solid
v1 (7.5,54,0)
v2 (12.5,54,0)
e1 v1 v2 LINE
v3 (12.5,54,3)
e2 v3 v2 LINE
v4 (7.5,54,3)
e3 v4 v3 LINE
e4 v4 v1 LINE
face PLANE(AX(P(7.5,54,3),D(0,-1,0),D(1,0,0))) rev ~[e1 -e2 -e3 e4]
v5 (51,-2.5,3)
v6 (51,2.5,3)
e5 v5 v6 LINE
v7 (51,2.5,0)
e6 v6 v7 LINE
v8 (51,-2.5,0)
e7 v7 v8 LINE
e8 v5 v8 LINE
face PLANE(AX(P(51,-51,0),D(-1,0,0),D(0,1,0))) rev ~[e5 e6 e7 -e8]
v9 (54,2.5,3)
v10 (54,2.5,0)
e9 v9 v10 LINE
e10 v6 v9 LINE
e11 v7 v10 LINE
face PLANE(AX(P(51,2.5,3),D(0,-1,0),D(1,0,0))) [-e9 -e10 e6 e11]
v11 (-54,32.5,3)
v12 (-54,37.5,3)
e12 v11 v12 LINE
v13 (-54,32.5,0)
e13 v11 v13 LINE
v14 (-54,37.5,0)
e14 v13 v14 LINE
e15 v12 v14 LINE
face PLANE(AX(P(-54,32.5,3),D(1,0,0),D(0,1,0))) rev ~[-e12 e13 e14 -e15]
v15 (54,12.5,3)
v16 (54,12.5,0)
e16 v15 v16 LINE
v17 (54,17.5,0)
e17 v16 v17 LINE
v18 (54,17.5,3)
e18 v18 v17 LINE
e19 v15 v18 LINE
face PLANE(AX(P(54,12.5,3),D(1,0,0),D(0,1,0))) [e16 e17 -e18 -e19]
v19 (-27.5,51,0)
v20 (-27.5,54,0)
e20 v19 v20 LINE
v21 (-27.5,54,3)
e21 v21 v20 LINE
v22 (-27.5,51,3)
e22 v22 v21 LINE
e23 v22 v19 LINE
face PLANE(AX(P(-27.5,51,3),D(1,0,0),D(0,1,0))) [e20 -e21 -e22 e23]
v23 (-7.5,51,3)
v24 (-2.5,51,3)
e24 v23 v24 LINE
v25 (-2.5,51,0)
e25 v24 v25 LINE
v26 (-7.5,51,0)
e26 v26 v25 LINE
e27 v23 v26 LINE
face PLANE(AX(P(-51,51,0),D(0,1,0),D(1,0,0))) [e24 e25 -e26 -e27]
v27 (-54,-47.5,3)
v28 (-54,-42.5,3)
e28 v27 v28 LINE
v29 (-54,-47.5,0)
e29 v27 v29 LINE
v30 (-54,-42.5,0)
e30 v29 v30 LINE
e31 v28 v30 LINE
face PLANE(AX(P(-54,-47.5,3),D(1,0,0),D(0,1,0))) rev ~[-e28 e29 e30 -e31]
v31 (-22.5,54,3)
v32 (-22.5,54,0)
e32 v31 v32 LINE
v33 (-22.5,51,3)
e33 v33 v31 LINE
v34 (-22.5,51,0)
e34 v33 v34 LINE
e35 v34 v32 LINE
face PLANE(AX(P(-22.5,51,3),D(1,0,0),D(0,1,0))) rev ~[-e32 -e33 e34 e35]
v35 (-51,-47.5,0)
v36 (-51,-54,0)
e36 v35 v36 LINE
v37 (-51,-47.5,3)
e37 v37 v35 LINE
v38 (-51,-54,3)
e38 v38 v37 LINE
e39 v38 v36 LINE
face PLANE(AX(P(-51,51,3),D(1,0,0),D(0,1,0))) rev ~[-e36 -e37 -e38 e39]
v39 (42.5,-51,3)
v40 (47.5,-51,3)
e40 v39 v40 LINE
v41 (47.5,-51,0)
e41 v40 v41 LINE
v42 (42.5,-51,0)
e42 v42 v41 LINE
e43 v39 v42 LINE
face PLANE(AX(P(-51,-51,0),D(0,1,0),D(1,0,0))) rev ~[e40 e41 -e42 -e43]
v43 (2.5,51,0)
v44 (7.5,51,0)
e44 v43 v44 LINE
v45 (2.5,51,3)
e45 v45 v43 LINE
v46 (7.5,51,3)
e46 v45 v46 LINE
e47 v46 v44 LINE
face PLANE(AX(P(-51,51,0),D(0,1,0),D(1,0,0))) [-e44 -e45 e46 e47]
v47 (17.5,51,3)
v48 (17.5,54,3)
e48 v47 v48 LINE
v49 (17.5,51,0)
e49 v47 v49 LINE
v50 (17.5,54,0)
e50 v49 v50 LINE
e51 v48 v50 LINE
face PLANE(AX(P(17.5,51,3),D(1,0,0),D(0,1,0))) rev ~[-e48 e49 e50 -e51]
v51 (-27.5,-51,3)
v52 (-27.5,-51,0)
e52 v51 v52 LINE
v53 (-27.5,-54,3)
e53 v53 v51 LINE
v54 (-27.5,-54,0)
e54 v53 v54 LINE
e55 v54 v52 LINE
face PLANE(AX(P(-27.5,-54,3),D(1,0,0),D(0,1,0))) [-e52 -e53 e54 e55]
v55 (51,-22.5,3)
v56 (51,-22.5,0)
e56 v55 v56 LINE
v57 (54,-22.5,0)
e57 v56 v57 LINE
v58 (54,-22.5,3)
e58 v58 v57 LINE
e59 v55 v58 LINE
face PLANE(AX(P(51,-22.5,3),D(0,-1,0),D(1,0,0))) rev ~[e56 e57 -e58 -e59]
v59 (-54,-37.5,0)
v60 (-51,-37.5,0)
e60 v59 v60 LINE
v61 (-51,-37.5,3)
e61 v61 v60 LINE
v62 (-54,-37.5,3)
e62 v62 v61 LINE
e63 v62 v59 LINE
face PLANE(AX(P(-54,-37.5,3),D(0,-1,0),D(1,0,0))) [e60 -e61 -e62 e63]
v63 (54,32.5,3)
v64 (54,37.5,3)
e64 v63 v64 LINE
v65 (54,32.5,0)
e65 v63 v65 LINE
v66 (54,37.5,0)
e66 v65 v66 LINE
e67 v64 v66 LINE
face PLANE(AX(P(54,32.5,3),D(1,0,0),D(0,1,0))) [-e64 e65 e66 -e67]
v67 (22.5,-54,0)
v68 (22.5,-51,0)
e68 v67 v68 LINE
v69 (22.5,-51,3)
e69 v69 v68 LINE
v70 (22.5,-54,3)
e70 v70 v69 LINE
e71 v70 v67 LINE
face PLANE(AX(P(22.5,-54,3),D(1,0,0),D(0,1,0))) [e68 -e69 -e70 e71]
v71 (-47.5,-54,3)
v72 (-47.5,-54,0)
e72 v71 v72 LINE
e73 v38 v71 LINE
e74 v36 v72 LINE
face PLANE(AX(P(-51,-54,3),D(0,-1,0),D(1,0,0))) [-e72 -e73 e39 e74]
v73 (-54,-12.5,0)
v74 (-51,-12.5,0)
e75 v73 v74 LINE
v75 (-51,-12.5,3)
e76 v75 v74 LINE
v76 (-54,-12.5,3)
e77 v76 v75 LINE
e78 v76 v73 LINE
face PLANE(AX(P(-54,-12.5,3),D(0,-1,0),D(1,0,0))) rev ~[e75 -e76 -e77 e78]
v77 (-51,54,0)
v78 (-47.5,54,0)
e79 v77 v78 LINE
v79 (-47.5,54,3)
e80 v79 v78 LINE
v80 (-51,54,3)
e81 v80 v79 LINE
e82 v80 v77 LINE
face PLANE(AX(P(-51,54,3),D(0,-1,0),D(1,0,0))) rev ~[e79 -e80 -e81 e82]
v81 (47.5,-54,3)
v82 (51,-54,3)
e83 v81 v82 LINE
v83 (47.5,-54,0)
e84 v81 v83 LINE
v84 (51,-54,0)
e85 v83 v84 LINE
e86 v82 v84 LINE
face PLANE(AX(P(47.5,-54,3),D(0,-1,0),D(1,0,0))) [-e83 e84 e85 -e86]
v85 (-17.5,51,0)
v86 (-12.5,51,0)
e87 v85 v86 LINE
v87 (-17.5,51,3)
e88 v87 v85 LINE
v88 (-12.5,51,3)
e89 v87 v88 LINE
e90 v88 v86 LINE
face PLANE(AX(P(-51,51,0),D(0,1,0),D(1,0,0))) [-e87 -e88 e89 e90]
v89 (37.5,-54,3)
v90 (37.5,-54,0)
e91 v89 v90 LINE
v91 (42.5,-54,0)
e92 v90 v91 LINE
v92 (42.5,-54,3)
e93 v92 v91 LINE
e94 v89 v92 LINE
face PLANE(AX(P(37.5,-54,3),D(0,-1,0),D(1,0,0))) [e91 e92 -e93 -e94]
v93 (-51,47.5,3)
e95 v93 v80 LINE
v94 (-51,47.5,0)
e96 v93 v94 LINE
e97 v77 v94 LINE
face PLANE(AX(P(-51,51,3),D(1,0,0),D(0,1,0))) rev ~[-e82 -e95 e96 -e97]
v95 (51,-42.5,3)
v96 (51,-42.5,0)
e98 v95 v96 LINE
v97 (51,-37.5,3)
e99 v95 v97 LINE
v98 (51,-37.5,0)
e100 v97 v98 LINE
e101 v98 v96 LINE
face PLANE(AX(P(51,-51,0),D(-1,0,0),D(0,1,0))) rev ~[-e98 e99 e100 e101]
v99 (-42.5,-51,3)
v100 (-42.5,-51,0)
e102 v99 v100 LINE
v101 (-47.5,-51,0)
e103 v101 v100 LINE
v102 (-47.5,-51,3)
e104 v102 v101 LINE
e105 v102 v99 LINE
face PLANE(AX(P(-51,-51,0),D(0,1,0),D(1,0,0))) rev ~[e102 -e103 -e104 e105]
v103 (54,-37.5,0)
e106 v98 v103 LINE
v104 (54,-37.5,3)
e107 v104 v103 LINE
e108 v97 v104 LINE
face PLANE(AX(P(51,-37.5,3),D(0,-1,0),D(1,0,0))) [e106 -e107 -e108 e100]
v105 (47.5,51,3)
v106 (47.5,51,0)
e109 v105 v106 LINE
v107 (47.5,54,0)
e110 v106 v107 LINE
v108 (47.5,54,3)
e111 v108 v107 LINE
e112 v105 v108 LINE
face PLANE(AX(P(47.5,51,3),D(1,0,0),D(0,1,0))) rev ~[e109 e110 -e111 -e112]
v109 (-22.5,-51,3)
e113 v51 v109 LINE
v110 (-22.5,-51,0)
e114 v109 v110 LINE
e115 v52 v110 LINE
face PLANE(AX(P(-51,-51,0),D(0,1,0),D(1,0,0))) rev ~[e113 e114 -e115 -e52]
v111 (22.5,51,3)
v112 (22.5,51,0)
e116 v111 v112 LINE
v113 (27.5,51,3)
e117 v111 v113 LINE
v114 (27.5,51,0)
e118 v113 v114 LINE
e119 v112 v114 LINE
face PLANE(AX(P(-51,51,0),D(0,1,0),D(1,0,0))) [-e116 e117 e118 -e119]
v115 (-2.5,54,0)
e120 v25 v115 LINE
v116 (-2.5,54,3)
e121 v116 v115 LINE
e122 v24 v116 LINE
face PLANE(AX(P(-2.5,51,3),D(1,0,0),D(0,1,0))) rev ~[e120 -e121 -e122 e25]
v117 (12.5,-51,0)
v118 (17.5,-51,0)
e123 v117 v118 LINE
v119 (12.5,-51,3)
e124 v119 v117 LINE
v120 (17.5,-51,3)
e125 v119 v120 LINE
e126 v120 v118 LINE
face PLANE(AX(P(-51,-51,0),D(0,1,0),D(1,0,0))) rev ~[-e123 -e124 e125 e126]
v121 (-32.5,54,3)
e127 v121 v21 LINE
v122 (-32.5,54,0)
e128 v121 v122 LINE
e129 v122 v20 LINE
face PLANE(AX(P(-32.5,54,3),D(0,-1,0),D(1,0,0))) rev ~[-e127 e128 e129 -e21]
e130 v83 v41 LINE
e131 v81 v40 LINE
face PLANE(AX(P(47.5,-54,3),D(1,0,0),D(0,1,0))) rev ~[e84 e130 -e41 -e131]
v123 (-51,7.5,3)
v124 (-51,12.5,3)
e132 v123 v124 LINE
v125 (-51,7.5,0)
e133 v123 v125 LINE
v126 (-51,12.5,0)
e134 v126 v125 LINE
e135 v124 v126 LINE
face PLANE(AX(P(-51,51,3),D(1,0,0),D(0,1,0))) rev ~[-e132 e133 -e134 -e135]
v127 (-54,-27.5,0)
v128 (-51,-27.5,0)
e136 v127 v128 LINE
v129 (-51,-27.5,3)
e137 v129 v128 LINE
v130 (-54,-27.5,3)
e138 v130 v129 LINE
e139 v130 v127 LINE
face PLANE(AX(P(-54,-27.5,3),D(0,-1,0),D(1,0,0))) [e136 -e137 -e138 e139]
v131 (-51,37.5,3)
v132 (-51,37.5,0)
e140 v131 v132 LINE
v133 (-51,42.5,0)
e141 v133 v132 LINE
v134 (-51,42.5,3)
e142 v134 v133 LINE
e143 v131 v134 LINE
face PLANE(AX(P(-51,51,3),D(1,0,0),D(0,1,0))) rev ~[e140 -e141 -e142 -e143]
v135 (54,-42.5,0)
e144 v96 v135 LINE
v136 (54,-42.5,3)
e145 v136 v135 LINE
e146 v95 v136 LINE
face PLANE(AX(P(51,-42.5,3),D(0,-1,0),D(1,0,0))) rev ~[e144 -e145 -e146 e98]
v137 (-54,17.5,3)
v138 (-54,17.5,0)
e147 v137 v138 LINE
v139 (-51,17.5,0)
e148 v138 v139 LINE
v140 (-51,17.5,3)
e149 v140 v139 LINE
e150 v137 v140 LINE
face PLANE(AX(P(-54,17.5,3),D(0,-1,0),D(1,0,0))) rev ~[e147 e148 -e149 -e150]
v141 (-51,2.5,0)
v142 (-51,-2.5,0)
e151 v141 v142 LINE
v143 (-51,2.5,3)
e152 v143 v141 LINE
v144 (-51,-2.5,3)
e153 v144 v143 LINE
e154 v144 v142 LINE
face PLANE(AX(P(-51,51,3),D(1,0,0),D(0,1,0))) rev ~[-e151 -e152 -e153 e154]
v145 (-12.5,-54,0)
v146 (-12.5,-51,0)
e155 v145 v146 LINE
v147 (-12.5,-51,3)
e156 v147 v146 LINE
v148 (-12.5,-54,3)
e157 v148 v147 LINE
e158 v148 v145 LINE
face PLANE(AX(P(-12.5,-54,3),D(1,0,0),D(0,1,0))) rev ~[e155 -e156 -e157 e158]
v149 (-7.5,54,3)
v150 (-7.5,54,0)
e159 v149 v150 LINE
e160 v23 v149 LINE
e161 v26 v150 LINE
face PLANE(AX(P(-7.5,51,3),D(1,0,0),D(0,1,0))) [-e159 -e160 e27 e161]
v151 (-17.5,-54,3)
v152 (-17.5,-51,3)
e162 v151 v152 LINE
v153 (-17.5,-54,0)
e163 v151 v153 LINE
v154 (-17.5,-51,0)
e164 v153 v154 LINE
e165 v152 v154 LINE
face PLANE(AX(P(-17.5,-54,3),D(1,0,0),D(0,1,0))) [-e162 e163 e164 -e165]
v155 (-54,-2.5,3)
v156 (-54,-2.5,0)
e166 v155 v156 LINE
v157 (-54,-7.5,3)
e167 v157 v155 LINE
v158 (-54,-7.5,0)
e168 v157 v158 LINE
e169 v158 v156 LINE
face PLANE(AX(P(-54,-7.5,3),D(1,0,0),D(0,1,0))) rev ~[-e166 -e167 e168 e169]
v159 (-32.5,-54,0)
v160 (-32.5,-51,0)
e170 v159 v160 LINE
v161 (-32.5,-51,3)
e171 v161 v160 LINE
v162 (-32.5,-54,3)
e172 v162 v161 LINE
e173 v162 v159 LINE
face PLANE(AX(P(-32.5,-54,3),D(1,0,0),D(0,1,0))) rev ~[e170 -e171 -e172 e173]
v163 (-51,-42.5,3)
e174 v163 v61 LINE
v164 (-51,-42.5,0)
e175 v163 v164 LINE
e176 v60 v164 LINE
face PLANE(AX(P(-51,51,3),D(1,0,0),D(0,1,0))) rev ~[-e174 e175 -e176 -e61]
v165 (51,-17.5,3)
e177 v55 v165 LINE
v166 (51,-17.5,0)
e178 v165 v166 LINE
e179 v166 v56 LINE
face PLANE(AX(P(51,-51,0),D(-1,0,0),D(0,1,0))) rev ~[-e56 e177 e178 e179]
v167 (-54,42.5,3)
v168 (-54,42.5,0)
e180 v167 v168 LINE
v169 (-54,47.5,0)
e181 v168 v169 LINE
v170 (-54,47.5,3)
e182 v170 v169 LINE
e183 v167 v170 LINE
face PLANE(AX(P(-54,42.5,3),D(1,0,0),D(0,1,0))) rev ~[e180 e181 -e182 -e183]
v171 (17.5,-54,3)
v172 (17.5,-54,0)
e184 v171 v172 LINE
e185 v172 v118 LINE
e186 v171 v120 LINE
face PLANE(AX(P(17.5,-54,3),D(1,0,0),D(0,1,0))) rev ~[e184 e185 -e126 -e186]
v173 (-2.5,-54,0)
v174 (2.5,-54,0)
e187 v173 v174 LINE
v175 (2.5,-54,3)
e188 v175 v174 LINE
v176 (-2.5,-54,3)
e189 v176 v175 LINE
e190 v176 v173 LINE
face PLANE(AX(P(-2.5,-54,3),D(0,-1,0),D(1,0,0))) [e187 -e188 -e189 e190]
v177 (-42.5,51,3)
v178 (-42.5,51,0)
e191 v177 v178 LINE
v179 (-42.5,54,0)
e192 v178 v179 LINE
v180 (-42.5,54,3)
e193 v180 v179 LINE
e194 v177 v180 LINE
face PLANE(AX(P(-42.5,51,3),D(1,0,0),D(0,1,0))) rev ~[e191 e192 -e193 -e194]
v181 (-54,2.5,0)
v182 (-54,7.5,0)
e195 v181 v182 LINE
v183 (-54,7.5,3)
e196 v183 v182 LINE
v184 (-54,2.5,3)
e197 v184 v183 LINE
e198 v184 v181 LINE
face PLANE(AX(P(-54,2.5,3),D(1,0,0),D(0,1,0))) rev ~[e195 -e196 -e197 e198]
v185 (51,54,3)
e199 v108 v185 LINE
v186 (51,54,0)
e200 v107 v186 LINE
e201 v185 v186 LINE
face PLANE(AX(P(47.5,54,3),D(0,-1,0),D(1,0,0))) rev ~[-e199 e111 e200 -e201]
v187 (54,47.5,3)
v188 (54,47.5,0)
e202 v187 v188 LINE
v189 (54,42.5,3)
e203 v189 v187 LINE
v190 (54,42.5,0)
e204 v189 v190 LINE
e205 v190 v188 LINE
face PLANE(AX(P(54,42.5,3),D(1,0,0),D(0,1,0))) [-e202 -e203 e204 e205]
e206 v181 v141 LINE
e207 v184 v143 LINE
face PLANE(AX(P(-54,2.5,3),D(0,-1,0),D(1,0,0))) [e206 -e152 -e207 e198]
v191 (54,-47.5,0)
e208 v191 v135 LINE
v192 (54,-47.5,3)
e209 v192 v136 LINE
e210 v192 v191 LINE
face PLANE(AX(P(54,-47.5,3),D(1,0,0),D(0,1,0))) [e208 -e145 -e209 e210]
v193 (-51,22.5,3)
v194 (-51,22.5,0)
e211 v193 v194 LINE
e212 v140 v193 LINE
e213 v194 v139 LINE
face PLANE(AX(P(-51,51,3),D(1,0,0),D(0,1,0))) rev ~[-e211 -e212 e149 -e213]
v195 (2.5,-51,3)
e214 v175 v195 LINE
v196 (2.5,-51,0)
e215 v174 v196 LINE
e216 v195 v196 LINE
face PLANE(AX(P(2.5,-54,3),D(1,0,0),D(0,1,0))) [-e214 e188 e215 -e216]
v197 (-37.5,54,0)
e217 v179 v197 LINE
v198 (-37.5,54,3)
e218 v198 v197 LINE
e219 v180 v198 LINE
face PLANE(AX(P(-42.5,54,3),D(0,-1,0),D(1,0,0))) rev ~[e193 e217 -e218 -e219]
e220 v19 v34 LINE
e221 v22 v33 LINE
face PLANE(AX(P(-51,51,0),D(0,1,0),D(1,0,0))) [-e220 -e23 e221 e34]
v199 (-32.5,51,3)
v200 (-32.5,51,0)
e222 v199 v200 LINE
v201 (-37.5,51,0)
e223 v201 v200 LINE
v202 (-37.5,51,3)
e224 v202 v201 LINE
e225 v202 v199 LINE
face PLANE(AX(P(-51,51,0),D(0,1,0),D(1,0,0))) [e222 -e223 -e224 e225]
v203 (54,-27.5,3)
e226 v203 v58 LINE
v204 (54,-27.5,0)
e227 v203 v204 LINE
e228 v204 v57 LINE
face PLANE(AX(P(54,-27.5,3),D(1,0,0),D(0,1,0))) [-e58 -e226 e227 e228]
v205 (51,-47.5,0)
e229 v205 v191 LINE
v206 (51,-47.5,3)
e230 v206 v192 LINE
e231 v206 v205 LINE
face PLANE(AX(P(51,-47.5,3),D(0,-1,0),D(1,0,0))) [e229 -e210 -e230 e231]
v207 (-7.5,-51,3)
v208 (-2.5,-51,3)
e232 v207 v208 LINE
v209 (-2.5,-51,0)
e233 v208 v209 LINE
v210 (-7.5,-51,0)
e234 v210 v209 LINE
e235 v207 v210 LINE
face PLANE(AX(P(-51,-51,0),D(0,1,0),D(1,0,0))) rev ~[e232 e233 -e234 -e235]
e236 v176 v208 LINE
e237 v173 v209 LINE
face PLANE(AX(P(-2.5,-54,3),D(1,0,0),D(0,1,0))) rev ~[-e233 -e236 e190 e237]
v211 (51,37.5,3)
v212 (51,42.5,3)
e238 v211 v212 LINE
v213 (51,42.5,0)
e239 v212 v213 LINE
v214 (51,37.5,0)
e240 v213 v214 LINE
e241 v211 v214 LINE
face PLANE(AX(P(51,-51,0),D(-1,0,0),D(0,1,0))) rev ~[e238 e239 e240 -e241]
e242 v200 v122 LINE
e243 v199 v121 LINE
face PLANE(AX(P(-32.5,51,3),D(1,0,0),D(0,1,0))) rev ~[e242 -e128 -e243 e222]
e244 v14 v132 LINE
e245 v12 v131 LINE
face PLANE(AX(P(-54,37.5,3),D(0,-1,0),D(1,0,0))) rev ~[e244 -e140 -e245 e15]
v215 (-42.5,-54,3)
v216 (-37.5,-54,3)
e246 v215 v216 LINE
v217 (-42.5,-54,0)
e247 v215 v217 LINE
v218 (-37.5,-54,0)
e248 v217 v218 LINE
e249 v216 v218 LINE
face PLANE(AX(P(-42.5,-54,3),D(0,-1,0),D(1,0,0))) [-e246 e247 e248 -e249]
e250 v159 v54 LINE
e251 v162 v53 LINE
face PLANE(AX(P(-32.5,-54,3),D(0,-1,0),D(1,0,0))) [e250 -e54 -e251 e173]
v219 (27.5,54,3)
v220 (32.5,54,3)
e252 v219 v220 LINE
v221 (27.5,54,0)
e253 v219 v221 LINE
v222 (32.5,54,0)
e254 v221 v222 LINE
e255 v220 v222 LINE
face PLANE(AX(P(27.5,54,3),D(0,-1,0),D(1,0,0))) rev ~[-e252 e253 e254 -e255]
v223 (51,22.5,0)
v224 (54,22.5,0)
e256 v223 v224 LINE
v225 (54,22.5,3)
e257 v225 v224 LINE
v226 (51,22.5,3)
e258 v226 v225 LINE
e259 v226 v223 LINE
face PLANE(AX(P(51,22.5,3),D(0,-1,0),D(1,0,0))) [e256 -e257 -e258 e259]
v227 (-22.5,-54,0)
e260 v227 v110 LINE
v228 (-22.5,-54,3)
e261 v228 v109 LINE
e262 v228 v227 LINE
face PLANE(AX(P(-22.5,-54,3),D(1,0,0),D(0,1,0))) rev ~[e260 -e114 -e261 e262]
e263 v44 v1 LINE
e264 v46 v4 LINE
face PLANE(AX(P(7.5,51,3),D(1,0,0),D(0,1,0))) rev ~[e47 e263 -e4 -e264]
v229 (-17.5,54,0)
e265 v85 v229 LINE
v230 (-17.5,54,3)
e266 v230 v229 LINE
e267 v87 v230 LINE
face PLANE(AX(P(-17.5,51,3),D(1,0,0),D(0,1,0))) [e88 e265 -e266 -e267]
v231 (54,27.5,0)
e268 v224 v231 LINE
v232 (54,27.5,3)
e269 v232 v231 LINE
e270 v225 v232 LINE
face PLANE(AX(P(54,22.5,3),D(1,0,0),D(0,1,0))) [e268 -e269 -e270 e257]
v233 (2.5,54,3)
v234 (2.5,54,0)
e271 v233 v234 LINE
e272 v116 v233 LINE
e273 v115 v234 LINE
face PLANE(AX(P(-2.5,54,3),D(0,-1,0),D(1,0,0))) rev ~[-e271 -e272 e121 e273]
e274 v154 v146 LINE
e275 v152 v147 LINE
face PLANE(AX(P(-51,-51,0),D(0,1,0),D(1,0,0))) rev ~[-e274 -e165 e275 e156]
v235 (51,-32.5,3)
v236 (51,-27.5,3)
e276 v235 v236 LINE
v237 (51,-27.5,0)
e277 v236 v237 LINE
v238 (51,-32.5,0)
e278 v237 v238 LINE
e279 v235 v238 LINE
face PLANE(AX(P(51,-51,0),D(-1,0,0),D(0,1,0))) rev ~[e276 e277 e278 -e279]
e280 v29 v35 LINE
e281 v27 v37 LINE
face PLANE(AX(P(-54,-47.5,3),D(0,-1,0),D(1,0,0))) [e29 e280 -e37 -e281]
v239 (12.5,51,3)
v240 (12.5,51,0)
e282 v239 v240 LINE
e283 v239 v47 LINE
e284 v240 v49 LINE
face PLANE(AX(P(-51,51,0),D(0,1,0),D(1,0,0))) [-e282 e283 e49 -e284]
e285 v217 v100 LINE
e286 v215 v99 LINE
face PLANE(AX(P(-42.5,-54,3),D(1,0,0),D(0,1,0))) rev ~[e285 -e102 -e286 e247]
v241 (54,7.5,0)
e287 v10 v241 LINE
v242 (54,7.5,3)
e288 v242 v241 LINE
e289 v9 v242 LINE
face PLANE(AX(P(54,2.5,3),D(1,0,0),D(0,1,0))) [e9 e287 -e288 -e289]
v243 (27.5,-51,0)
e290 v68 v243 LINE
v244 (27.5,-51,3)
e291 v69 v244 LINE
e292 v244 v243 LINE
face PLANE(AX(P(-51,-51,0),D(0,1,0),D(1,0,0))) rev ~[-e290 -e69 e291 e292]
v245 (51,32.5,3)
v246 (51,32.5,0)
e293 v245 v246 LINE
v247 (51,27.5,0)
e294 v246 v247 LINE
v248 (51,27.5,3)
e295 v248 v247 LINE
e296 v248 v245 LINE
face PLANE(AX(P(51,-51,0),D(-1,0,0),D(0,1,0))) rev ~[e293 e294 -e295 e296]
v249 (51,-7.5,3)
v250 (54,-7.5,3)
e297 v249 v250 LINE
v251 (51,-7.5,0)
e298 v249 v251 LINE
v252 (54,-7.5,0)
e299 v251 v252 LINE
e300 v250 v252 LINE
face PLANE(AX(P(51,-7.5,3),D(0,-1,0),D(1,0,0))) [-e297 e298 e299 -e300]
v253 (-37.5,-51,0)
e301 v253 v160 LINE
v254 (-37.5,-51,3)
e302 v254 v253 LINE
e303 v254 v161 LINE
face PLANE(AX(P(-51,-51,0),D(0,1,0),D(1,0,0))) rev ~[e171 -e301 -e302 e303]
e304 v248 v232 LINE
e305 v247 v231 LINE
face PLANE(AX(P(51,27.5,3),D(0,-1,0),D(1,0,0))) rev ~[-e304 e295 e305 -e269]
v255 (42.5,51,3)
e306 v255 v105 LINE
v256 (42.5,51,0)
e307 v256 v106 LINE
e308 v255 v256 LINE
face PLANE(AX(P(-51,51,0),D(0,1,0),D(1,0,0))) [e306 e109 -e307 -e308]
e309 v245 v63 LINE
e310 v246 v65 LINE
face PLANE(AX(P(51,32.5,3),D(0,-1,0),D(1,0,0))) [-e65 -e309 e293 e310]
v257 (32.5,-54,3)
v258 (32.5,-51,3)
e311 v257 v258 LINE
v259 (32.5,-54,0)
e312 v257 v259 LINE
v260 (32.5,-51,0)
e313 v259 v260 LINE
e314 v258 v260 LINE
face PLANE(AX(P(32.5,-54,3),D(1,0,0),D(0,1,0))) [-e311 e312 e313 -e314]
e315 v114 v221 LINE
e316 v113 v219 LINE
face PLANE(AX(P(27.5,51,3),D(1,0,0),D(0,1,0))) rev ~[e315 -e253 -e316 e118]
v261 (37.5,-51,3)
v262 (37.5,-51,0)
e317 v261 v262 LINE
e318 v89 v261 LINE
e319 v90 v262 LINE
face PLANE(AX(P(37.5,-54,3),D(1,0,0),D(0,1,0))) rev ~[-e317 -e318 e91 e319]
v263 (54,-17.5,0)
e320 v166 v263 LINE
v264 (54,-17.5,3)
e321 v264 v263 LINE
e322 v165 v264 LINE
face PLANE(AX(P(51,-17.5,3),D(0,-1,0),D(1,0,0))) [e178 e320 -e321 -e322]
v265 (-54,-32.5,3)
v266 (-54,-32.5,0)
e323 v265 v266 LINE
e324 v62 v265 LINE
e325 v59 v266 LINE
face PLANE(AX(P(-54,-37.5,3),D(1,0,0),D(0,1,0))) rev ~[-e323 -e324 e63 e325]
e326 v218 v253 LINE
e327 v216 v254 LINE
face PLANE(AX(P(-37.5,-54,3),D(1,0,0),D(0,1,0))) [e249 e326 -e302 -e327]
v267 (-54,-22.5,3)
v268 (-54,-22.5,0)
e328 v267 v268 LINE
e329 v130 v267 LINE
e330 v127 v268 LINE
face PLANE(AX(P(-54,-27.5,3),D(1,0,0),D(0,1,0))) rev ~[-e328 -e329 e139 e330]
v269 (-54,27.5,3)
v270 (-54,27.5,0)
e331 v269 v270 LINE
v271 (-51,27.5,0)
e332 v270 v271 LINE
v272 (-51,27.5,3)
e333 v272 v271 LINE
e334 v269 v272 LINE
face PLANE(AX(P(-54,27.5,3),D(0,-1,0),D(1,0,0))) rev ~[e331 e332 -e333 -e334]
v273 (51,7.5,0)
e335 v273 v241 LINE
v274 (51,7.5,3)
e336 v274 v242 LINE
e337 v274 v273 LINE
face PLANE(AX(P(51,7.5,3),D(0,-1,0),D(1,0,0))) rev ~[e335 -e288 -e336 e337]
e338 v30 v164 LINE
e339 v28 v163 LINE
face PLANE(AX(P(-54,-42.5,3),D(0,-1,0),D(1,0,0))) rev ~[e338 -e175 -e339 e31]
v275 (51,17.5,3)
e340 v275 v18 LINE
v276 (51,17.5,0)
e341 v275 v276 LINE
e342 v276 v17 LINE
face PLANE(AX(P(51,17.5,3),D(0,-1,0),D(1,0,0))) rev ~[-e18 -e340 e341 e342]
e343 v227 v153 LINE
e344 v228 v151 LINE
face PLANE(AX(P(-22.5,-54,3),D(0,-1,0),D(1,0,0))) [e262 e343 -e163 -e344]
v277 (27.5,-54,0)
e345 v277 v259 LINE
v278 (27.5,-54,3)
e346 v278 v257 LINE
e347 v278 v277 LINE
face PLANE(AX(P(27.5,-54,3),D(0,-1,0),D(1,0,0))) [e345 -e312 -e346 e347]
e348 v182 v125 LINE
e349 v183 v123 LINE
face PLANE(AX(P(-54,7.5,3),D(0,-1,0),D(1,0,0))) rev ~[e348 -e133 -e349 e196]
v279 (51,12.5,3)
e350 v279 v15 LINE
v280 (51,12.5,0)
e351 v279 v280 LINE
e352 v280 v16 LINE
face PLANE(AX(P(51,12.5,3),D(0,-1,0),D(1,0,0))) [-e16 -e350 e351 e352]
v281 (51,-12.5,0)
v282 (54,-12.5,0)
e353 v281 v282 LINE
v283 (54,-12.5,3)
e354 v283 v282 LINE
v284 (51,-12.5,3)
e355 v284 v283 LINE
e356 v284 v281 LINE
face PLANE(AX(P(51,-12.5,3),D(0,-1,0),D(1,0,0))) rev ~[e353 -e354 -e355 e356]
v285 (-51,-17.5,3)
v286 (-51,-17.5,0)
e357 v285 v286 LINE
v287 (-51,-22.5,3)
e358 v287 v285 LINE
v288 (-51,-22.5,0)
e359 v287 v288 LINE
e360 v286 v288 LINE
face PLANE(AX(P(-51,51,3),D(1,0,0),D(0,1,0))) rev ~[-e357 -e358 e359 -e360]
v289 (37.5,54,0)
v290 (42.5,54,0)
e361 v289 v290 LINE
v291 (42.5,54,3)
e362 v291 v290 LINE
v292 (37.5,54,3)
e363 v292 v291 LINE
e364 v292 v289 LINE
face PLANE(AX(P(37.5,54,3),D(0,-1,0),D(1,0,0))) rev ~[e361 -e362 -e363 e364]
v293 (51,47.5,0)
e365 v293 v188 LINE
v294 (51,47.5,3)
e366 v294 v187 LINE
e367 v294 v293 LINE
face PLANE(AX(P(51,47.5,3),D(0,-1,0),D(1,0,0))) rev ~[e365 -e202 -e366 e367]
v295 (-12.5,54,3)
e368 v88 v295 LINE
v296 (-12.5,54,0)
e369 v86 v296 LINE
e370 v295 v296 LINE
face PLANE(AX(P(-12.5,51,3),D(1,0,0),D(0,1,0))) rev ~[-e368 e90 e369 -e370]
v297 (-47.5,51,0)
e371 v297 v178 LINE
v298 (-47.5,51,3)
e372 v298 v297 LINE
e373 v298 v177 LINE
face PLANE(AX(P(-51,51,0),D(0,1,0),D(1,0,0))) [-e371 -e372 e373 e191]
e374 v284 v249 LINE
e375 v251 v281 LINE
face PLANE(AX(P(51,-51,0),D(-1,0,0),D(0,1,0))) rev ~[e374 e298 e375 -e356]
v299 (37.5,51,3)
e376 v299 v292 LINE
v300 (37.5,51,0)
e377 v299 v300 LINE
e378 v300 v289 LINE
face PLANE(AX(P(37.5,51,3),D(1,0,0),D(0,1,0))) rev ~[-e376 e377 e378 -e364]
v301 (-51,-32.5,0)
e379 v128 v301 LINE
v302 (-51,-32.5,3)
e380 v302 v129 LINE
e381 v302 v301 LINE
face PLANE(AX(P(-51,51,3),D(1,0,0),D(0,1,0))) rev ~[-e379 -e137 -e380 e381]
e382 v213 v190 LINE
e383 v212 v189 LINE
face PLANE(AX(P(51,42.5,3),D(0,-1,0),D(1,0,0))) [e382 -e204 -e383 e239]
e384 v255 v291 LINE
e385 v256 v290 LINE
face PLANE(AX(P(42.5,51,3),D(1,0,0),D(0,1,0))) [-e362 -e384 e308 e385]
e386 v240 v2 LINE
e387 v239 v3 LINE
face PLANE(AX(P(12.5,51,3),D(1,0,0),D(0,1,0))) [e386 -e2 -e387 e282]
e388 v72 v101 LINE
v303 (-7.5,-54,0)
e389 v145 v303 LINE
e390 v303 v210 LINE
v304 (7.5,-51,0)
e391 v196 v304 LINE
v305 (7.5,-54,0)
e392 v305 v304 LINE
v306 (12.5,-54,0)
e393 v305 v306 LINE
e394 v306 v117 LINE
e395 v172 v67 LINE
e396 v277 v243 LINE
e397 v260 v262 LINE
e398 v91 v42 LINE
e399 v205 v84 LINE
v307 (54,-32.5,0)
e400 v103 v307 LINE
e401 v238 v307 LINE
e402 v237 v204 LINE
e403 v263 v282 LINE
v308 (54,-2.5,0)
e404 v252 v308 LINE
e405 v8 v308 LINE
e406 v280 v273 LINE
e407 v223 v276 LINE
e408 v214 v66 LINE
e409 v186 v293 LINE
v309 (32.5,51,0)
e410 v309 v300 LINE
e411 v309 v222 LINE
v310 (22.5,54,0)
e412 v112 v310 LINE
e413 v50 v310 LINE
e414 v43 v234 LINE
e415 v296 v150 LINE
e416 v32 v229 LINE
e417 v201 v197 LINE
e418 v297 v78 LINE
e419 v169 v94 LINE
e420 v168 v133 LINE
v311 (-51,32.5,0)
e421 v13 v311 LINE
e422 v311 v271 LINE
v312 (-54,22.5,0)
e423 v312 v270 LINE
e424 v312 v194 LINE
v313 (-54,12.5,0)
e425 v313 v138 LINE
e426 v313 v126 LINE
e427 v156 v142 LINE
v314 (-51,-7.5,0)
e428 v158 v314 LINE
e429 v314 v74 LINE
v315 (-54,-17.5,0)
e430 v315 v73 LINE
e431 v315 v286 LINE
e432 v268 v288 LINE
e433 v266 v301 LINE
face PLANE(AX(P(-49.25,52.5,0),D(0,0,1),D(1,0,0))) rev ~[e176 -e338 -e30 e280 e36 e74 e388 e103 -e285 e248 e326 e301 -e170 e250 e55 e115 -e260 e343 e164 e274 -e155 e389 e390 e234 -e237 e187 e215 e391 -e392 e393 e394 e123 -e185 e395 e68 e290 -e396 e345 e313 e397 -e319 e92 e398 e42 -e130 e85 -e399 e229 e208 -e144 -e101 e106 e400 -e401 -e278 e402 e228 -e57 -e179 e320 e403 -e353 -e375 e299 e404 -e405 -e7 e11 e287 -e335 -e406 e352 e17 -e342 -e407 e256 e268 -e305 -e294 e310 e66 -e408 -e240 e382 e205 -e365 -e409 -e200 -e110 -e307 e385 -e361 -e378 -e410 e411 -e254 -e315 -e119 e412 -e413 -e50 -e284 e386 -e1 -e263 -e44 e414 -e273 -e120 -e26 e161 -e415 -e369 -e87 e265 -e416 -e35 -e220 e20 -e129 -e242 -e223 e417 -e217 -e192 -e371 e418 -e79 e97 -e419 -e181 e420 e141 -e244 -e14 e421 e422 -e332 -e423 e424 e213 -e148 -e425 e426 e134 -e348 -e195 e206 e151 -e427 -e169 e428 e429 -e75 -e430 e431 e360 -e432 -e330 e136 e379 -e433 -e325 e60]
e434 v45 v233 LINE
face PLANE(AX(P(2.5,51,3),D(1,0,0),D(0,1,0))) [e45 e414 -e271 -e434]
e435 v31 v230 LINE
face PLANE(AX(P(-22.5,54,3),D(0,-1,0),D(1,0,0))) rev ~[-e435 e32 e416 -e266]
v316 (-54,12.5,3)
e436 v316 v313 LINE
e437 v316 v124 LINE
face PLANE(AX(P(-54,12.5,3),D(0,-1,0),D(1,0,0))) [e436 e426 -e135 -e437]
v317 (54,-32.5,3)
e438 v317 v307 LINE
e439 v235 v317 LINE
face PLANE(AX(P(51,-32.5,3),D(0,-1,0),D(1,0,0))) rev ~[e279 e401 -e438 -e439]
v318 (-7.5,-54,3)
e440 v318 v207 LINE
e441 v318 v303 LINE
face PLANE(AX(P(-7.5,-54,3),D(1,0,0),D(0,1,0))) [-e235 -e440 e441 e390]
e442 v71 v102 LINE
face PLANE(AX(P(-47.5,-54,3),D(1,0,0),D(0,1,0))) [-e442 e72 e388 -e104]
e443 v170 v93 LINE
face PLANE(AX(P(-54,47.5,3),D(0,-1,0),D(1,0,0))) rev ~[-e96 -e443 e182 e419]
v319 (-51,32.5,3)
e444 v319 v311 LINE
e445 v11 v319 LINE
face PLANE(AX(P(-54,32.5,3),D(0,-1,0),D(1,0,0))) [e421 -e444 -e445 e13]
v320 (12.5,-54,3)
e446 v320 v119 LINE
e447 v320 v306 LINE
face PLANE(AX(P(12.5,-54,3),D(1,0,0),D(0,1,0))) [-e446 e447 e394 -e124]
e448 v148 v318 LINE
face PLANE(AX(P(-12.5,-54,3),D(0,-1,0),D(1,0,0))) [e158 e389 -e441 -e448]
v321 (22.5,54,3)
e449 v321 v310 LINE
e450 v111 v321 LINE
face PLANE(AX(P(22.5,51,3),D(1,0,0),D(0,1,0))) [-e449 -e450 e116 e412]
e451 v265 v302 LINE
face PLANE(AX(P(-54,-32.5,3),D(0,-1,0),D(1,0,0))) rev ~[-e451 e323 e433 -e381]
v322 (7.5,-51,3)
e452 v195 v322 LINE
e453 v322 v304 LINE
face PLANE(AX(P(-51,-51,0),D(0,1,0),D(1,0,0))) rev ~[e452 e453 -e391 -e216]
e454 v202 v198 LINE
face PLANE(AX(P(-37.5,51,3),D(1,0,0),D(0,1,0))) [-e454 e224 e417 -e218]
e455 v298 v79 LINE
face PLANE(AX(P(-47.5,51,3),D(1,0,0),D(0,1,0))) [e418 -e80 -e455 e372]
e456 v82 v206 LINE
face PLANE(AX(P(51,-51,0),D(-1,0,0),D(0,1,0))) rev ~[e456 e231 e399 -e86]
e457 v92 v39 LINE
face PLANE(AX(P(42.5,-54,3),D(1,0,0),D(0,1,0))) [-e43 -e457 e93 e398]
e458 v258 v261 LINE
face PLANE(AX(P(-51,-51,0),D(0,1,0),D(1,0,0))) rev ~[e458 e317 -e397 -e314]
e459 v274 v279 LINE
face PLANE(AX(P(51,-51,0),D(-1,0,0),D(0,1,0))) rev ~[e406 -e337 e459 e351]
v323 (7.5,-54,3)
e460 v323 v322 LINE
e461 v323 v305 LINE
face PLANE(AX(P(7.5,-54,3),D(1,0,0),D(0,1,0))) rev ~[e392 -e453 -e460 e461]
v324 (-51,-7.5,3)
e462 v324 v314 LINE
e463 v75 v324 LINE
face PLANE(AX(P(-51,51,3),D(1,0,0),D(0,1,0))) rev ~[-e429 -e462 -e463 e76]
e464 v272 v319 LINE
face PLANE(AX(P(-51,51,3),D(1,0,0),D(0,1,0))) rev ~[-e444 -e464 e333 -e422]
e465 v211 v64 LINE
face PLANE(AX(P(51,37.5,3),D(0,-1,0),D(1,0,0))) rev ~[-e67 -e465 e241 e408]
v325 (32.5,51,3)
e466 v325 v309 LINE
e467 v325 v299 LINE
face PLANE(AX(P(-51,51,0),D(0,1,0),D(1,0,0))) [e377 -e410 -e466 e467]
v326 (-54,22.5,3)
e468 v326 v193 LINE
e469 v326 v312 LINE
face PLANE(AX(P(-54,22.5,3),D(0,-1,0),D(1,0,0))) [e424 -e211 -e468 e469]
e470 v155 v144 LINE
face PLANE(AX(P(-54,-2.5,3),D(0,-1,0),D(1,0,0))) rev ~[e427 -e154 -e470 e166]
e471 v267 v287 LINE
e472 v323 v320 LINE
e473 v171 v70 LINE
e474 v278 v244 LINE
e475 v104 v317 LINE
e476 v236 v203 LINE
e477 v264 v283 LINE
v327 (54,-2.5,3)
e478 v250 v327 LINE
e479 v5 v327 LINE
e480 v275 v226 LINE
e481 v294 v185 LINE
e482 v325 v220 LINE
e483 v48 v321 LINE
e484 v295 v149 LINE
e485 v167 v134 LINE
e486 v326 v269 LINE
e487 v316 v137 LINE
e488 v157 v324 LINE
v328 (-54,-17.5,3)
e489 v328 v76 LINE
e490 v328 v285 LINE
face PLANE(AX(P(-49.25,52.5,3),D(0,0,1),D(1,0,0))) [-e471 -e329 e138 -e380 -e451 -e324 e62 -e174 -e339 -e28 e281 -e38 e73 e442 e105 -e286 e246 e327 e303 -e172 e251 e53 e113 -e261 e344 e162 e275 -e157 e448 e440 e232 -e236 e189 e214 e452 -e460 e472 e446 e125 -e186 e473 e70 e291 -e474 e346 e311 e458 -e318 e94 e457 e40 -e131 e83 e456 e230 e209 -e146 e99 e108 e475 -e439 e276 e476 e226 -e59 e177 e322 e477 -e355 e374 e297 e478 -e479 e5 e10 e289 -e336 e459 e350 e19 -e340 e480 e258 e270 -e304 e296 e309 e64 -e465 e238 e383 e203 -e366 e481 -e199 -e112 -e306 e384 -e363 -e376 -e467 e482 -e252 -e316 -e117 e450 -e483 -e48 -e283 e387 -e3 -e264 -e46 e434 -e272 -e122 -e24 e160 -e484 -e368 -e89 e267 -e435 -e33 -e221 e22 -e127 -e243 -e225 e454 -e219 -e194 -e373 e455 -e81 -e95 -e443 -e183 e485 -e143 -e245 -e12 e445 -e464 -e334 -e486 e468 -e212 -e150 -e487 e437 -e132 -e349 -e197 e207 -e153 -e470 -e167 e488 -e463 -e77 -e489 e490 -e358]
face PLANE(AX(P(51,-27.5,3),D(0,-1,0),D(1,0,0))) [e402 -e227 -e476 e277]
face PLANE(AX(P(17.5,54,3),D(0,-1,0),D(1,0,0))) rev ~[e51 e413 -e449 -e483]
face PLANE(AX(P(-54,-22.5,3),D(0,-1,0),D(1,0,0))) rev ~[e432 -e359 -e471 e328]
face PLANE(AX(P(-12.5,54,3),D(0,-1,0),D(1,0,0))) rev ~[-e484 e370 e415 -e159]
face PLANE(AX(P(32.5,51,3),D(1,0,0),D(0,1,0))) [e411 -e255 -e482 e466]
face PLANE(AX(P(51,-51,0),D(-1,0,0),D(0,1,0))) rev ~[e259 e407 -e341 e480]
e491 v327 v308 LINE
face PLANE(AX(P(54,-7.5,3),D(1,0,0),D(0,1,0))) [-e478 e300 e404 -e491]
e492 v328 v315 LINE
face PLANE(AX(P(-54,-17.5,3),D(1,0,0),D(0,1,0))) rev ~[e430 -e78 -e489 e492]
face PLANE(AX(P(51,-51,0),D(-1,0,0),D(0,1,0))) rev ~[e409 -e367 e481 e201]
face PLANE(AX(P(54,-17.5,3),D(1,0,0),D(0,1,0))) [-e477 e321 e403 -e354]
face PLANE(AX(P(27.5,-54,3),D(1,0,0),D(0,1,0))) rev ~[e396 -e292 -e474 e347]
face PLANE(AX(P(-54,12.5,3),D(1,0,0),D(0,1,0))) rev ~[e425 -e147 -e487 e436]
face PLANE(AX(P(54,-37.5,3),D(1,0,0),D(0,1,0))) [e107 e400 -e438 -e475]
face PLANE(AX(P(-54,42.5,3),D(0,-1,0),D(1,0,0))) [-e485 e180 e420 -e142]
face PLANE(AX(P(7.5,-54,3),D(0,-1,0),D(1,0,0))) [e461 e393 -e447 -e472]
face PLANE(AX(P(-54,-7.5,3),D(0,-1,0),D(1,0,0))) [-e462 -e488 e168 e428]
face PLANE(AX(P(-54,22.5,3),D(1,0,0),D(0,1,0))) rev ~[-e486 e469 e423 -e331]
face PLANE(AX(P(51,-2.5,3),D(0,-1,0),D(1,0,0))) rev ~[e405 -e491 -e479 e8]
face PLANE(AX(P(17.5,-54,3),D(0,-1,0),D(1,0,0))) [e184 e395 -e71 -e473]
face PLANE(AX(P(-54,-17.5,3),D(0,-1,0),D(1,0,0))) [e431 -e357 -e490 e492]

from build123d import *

# Parameters (mm, degrees)
F0_W     = 102
F0_H     = 102
F1_DEPTH = 3
F2_W     = 5
F2_H     = 3
F2_W_2   = 3.5
F3_DEPTH = 3
F4_W     = 3
F4_H     = 5
F5_DEPTH = 3


with BuildPart() as f1:
    # F0 (on Top) → F1 (new body)
    with BuildSketch(Plane.XY):
        Rectangle(F0_W, F0_H)
    extrude(amount=F1_DEPTH)

    # F2 (on face) → F3 (join, through all)
    with BuildSketch(Plane.XY.offset(3)):
        with Locations((0, 52.5)):
            Rectangle(F2_W, F2_H)
        with Locations((10, 52.5)):
            Rectangle(F2_W, F2_H)
        with Locations((20, 52.5)):
            Rectangle(F2_W, F2_H)
        with Locations((30, 52.5)):
            Rectangle(F2_W, F2_H)
        with Locations((40, 52.5)):
            Rectangle(F2_W, F2_H)
        with Locations((-10, 52.5)):
            Rectangle(F2_W, F2_H)
        with Locations((-30, 52.5)):
            Rectangle(F2_W, F2_H)
        with Locations((-40, 52.5)):
            Rectangle(F2_W, F2_H)
        with Locations((-20, 52.5)):
            Rectangle(F2_W, F2_H)
        with Locations((-10, -52.5)):
            Rectangle(F2_W, F2_H)
        with Locations((0, -52.5)):
            Rectangle(F2_W, F2_H)
        with Locations((10, -52.5)):
            Rectangle(F2_W, F2_H)
        with Locations((40, -52.5)):
            Rectangle(F2_W, F2_H)
        with Locations((-20, -52.5)):
            Rectangle(F2_W, F2_H)
        with Locations((-30, -52.5)):
            Rectangle(F2_W, F2_H)
        with Locations((-40, -52.5)):
            Rectangle(F2_W, F2_H)
        with Locations((20, -52.5)):
            Rectangle(F2_W, F2_H)
        with Locations((30, -52.5)):
            Rectangle(F2_W, F2_H)
        with Locations((-49.25, 52.5)):
            Rectangle(F2_W_2, F2_H)
        with Locations((49.25, 52.5)):
            Rectangle(F2_W_2, F2_H)
        with Locations((49.25, -52.5)):
            Rectangle(F2_W_2, F2_H)
        with Locations((-49.25, -52.5)):
            Rectangle(F2_W_2, F2_H)
    extrude(amount=-F3_DEPTH)

    # F4 (on face) → F5 (join)
    with BuildSketch(Plane.XY.offset(3)):
        with Locations((52.5, -5)):
            Rectangle(F4_W, F4_H)
        with Locations((52.5, -15)):
            Rectangle(F4_W, F4_H)
        with Locations((52.5, -25)):
            Rectangle(F4_W, F4_H)
        with Locations((52.5, -35)):
            Rectangle(F4_W, F4_H)
        with Locations((52.5, -45)):
            Rectangle(F4_W, F4_H)
        with Locations((52.5, 15)):
            Rectangle(F4_W, F4_H)
        with Locations((52.5, 45)):
            Rectangle(F4_W, F4_H)
        with Locations((52.5, 25)):
            Rectangle(F4_W, F4_H)
        with Locations((52.5, 5)):
            Rectangle(F4_W, F4_H)
        with Locations((52.5, 35)):
            Rectangle(F4_W, F4_H)
        with Locations((-52.5, -15)):
            Rectangle(F4_W, F4_H)
        with Locations((-52.5, -5)):
            Rectangle(F4_W, F4_H)
        with Locations((-52.5, 15)):
            Rectangle(F4_W, F4_H)
        with Locations((-52.5, 35)):
            Rectangle(F4_W, F4_H)
        with Locations((-52.5, -25)):
            Rectangle(F4_W, F4_H)
        with Locations((-52.5, 25)):
            Rectangle(F4_W, F4_H)
        with Locations((-52.5, -35)):
            Rectangle(F4_W, F4_H)
        with Locations((-52.5, 45)):
            Rectangle(F4_W, F4_H)
        with Locations((-52.5, -45)):
            Rectangle(F4_W, F4_H)
        with Locations((-52.5, 5)):
            Rectangle(F4_W, F4_H)
    extrude(amount=-F5_DEPTH)


solid = f1.part
